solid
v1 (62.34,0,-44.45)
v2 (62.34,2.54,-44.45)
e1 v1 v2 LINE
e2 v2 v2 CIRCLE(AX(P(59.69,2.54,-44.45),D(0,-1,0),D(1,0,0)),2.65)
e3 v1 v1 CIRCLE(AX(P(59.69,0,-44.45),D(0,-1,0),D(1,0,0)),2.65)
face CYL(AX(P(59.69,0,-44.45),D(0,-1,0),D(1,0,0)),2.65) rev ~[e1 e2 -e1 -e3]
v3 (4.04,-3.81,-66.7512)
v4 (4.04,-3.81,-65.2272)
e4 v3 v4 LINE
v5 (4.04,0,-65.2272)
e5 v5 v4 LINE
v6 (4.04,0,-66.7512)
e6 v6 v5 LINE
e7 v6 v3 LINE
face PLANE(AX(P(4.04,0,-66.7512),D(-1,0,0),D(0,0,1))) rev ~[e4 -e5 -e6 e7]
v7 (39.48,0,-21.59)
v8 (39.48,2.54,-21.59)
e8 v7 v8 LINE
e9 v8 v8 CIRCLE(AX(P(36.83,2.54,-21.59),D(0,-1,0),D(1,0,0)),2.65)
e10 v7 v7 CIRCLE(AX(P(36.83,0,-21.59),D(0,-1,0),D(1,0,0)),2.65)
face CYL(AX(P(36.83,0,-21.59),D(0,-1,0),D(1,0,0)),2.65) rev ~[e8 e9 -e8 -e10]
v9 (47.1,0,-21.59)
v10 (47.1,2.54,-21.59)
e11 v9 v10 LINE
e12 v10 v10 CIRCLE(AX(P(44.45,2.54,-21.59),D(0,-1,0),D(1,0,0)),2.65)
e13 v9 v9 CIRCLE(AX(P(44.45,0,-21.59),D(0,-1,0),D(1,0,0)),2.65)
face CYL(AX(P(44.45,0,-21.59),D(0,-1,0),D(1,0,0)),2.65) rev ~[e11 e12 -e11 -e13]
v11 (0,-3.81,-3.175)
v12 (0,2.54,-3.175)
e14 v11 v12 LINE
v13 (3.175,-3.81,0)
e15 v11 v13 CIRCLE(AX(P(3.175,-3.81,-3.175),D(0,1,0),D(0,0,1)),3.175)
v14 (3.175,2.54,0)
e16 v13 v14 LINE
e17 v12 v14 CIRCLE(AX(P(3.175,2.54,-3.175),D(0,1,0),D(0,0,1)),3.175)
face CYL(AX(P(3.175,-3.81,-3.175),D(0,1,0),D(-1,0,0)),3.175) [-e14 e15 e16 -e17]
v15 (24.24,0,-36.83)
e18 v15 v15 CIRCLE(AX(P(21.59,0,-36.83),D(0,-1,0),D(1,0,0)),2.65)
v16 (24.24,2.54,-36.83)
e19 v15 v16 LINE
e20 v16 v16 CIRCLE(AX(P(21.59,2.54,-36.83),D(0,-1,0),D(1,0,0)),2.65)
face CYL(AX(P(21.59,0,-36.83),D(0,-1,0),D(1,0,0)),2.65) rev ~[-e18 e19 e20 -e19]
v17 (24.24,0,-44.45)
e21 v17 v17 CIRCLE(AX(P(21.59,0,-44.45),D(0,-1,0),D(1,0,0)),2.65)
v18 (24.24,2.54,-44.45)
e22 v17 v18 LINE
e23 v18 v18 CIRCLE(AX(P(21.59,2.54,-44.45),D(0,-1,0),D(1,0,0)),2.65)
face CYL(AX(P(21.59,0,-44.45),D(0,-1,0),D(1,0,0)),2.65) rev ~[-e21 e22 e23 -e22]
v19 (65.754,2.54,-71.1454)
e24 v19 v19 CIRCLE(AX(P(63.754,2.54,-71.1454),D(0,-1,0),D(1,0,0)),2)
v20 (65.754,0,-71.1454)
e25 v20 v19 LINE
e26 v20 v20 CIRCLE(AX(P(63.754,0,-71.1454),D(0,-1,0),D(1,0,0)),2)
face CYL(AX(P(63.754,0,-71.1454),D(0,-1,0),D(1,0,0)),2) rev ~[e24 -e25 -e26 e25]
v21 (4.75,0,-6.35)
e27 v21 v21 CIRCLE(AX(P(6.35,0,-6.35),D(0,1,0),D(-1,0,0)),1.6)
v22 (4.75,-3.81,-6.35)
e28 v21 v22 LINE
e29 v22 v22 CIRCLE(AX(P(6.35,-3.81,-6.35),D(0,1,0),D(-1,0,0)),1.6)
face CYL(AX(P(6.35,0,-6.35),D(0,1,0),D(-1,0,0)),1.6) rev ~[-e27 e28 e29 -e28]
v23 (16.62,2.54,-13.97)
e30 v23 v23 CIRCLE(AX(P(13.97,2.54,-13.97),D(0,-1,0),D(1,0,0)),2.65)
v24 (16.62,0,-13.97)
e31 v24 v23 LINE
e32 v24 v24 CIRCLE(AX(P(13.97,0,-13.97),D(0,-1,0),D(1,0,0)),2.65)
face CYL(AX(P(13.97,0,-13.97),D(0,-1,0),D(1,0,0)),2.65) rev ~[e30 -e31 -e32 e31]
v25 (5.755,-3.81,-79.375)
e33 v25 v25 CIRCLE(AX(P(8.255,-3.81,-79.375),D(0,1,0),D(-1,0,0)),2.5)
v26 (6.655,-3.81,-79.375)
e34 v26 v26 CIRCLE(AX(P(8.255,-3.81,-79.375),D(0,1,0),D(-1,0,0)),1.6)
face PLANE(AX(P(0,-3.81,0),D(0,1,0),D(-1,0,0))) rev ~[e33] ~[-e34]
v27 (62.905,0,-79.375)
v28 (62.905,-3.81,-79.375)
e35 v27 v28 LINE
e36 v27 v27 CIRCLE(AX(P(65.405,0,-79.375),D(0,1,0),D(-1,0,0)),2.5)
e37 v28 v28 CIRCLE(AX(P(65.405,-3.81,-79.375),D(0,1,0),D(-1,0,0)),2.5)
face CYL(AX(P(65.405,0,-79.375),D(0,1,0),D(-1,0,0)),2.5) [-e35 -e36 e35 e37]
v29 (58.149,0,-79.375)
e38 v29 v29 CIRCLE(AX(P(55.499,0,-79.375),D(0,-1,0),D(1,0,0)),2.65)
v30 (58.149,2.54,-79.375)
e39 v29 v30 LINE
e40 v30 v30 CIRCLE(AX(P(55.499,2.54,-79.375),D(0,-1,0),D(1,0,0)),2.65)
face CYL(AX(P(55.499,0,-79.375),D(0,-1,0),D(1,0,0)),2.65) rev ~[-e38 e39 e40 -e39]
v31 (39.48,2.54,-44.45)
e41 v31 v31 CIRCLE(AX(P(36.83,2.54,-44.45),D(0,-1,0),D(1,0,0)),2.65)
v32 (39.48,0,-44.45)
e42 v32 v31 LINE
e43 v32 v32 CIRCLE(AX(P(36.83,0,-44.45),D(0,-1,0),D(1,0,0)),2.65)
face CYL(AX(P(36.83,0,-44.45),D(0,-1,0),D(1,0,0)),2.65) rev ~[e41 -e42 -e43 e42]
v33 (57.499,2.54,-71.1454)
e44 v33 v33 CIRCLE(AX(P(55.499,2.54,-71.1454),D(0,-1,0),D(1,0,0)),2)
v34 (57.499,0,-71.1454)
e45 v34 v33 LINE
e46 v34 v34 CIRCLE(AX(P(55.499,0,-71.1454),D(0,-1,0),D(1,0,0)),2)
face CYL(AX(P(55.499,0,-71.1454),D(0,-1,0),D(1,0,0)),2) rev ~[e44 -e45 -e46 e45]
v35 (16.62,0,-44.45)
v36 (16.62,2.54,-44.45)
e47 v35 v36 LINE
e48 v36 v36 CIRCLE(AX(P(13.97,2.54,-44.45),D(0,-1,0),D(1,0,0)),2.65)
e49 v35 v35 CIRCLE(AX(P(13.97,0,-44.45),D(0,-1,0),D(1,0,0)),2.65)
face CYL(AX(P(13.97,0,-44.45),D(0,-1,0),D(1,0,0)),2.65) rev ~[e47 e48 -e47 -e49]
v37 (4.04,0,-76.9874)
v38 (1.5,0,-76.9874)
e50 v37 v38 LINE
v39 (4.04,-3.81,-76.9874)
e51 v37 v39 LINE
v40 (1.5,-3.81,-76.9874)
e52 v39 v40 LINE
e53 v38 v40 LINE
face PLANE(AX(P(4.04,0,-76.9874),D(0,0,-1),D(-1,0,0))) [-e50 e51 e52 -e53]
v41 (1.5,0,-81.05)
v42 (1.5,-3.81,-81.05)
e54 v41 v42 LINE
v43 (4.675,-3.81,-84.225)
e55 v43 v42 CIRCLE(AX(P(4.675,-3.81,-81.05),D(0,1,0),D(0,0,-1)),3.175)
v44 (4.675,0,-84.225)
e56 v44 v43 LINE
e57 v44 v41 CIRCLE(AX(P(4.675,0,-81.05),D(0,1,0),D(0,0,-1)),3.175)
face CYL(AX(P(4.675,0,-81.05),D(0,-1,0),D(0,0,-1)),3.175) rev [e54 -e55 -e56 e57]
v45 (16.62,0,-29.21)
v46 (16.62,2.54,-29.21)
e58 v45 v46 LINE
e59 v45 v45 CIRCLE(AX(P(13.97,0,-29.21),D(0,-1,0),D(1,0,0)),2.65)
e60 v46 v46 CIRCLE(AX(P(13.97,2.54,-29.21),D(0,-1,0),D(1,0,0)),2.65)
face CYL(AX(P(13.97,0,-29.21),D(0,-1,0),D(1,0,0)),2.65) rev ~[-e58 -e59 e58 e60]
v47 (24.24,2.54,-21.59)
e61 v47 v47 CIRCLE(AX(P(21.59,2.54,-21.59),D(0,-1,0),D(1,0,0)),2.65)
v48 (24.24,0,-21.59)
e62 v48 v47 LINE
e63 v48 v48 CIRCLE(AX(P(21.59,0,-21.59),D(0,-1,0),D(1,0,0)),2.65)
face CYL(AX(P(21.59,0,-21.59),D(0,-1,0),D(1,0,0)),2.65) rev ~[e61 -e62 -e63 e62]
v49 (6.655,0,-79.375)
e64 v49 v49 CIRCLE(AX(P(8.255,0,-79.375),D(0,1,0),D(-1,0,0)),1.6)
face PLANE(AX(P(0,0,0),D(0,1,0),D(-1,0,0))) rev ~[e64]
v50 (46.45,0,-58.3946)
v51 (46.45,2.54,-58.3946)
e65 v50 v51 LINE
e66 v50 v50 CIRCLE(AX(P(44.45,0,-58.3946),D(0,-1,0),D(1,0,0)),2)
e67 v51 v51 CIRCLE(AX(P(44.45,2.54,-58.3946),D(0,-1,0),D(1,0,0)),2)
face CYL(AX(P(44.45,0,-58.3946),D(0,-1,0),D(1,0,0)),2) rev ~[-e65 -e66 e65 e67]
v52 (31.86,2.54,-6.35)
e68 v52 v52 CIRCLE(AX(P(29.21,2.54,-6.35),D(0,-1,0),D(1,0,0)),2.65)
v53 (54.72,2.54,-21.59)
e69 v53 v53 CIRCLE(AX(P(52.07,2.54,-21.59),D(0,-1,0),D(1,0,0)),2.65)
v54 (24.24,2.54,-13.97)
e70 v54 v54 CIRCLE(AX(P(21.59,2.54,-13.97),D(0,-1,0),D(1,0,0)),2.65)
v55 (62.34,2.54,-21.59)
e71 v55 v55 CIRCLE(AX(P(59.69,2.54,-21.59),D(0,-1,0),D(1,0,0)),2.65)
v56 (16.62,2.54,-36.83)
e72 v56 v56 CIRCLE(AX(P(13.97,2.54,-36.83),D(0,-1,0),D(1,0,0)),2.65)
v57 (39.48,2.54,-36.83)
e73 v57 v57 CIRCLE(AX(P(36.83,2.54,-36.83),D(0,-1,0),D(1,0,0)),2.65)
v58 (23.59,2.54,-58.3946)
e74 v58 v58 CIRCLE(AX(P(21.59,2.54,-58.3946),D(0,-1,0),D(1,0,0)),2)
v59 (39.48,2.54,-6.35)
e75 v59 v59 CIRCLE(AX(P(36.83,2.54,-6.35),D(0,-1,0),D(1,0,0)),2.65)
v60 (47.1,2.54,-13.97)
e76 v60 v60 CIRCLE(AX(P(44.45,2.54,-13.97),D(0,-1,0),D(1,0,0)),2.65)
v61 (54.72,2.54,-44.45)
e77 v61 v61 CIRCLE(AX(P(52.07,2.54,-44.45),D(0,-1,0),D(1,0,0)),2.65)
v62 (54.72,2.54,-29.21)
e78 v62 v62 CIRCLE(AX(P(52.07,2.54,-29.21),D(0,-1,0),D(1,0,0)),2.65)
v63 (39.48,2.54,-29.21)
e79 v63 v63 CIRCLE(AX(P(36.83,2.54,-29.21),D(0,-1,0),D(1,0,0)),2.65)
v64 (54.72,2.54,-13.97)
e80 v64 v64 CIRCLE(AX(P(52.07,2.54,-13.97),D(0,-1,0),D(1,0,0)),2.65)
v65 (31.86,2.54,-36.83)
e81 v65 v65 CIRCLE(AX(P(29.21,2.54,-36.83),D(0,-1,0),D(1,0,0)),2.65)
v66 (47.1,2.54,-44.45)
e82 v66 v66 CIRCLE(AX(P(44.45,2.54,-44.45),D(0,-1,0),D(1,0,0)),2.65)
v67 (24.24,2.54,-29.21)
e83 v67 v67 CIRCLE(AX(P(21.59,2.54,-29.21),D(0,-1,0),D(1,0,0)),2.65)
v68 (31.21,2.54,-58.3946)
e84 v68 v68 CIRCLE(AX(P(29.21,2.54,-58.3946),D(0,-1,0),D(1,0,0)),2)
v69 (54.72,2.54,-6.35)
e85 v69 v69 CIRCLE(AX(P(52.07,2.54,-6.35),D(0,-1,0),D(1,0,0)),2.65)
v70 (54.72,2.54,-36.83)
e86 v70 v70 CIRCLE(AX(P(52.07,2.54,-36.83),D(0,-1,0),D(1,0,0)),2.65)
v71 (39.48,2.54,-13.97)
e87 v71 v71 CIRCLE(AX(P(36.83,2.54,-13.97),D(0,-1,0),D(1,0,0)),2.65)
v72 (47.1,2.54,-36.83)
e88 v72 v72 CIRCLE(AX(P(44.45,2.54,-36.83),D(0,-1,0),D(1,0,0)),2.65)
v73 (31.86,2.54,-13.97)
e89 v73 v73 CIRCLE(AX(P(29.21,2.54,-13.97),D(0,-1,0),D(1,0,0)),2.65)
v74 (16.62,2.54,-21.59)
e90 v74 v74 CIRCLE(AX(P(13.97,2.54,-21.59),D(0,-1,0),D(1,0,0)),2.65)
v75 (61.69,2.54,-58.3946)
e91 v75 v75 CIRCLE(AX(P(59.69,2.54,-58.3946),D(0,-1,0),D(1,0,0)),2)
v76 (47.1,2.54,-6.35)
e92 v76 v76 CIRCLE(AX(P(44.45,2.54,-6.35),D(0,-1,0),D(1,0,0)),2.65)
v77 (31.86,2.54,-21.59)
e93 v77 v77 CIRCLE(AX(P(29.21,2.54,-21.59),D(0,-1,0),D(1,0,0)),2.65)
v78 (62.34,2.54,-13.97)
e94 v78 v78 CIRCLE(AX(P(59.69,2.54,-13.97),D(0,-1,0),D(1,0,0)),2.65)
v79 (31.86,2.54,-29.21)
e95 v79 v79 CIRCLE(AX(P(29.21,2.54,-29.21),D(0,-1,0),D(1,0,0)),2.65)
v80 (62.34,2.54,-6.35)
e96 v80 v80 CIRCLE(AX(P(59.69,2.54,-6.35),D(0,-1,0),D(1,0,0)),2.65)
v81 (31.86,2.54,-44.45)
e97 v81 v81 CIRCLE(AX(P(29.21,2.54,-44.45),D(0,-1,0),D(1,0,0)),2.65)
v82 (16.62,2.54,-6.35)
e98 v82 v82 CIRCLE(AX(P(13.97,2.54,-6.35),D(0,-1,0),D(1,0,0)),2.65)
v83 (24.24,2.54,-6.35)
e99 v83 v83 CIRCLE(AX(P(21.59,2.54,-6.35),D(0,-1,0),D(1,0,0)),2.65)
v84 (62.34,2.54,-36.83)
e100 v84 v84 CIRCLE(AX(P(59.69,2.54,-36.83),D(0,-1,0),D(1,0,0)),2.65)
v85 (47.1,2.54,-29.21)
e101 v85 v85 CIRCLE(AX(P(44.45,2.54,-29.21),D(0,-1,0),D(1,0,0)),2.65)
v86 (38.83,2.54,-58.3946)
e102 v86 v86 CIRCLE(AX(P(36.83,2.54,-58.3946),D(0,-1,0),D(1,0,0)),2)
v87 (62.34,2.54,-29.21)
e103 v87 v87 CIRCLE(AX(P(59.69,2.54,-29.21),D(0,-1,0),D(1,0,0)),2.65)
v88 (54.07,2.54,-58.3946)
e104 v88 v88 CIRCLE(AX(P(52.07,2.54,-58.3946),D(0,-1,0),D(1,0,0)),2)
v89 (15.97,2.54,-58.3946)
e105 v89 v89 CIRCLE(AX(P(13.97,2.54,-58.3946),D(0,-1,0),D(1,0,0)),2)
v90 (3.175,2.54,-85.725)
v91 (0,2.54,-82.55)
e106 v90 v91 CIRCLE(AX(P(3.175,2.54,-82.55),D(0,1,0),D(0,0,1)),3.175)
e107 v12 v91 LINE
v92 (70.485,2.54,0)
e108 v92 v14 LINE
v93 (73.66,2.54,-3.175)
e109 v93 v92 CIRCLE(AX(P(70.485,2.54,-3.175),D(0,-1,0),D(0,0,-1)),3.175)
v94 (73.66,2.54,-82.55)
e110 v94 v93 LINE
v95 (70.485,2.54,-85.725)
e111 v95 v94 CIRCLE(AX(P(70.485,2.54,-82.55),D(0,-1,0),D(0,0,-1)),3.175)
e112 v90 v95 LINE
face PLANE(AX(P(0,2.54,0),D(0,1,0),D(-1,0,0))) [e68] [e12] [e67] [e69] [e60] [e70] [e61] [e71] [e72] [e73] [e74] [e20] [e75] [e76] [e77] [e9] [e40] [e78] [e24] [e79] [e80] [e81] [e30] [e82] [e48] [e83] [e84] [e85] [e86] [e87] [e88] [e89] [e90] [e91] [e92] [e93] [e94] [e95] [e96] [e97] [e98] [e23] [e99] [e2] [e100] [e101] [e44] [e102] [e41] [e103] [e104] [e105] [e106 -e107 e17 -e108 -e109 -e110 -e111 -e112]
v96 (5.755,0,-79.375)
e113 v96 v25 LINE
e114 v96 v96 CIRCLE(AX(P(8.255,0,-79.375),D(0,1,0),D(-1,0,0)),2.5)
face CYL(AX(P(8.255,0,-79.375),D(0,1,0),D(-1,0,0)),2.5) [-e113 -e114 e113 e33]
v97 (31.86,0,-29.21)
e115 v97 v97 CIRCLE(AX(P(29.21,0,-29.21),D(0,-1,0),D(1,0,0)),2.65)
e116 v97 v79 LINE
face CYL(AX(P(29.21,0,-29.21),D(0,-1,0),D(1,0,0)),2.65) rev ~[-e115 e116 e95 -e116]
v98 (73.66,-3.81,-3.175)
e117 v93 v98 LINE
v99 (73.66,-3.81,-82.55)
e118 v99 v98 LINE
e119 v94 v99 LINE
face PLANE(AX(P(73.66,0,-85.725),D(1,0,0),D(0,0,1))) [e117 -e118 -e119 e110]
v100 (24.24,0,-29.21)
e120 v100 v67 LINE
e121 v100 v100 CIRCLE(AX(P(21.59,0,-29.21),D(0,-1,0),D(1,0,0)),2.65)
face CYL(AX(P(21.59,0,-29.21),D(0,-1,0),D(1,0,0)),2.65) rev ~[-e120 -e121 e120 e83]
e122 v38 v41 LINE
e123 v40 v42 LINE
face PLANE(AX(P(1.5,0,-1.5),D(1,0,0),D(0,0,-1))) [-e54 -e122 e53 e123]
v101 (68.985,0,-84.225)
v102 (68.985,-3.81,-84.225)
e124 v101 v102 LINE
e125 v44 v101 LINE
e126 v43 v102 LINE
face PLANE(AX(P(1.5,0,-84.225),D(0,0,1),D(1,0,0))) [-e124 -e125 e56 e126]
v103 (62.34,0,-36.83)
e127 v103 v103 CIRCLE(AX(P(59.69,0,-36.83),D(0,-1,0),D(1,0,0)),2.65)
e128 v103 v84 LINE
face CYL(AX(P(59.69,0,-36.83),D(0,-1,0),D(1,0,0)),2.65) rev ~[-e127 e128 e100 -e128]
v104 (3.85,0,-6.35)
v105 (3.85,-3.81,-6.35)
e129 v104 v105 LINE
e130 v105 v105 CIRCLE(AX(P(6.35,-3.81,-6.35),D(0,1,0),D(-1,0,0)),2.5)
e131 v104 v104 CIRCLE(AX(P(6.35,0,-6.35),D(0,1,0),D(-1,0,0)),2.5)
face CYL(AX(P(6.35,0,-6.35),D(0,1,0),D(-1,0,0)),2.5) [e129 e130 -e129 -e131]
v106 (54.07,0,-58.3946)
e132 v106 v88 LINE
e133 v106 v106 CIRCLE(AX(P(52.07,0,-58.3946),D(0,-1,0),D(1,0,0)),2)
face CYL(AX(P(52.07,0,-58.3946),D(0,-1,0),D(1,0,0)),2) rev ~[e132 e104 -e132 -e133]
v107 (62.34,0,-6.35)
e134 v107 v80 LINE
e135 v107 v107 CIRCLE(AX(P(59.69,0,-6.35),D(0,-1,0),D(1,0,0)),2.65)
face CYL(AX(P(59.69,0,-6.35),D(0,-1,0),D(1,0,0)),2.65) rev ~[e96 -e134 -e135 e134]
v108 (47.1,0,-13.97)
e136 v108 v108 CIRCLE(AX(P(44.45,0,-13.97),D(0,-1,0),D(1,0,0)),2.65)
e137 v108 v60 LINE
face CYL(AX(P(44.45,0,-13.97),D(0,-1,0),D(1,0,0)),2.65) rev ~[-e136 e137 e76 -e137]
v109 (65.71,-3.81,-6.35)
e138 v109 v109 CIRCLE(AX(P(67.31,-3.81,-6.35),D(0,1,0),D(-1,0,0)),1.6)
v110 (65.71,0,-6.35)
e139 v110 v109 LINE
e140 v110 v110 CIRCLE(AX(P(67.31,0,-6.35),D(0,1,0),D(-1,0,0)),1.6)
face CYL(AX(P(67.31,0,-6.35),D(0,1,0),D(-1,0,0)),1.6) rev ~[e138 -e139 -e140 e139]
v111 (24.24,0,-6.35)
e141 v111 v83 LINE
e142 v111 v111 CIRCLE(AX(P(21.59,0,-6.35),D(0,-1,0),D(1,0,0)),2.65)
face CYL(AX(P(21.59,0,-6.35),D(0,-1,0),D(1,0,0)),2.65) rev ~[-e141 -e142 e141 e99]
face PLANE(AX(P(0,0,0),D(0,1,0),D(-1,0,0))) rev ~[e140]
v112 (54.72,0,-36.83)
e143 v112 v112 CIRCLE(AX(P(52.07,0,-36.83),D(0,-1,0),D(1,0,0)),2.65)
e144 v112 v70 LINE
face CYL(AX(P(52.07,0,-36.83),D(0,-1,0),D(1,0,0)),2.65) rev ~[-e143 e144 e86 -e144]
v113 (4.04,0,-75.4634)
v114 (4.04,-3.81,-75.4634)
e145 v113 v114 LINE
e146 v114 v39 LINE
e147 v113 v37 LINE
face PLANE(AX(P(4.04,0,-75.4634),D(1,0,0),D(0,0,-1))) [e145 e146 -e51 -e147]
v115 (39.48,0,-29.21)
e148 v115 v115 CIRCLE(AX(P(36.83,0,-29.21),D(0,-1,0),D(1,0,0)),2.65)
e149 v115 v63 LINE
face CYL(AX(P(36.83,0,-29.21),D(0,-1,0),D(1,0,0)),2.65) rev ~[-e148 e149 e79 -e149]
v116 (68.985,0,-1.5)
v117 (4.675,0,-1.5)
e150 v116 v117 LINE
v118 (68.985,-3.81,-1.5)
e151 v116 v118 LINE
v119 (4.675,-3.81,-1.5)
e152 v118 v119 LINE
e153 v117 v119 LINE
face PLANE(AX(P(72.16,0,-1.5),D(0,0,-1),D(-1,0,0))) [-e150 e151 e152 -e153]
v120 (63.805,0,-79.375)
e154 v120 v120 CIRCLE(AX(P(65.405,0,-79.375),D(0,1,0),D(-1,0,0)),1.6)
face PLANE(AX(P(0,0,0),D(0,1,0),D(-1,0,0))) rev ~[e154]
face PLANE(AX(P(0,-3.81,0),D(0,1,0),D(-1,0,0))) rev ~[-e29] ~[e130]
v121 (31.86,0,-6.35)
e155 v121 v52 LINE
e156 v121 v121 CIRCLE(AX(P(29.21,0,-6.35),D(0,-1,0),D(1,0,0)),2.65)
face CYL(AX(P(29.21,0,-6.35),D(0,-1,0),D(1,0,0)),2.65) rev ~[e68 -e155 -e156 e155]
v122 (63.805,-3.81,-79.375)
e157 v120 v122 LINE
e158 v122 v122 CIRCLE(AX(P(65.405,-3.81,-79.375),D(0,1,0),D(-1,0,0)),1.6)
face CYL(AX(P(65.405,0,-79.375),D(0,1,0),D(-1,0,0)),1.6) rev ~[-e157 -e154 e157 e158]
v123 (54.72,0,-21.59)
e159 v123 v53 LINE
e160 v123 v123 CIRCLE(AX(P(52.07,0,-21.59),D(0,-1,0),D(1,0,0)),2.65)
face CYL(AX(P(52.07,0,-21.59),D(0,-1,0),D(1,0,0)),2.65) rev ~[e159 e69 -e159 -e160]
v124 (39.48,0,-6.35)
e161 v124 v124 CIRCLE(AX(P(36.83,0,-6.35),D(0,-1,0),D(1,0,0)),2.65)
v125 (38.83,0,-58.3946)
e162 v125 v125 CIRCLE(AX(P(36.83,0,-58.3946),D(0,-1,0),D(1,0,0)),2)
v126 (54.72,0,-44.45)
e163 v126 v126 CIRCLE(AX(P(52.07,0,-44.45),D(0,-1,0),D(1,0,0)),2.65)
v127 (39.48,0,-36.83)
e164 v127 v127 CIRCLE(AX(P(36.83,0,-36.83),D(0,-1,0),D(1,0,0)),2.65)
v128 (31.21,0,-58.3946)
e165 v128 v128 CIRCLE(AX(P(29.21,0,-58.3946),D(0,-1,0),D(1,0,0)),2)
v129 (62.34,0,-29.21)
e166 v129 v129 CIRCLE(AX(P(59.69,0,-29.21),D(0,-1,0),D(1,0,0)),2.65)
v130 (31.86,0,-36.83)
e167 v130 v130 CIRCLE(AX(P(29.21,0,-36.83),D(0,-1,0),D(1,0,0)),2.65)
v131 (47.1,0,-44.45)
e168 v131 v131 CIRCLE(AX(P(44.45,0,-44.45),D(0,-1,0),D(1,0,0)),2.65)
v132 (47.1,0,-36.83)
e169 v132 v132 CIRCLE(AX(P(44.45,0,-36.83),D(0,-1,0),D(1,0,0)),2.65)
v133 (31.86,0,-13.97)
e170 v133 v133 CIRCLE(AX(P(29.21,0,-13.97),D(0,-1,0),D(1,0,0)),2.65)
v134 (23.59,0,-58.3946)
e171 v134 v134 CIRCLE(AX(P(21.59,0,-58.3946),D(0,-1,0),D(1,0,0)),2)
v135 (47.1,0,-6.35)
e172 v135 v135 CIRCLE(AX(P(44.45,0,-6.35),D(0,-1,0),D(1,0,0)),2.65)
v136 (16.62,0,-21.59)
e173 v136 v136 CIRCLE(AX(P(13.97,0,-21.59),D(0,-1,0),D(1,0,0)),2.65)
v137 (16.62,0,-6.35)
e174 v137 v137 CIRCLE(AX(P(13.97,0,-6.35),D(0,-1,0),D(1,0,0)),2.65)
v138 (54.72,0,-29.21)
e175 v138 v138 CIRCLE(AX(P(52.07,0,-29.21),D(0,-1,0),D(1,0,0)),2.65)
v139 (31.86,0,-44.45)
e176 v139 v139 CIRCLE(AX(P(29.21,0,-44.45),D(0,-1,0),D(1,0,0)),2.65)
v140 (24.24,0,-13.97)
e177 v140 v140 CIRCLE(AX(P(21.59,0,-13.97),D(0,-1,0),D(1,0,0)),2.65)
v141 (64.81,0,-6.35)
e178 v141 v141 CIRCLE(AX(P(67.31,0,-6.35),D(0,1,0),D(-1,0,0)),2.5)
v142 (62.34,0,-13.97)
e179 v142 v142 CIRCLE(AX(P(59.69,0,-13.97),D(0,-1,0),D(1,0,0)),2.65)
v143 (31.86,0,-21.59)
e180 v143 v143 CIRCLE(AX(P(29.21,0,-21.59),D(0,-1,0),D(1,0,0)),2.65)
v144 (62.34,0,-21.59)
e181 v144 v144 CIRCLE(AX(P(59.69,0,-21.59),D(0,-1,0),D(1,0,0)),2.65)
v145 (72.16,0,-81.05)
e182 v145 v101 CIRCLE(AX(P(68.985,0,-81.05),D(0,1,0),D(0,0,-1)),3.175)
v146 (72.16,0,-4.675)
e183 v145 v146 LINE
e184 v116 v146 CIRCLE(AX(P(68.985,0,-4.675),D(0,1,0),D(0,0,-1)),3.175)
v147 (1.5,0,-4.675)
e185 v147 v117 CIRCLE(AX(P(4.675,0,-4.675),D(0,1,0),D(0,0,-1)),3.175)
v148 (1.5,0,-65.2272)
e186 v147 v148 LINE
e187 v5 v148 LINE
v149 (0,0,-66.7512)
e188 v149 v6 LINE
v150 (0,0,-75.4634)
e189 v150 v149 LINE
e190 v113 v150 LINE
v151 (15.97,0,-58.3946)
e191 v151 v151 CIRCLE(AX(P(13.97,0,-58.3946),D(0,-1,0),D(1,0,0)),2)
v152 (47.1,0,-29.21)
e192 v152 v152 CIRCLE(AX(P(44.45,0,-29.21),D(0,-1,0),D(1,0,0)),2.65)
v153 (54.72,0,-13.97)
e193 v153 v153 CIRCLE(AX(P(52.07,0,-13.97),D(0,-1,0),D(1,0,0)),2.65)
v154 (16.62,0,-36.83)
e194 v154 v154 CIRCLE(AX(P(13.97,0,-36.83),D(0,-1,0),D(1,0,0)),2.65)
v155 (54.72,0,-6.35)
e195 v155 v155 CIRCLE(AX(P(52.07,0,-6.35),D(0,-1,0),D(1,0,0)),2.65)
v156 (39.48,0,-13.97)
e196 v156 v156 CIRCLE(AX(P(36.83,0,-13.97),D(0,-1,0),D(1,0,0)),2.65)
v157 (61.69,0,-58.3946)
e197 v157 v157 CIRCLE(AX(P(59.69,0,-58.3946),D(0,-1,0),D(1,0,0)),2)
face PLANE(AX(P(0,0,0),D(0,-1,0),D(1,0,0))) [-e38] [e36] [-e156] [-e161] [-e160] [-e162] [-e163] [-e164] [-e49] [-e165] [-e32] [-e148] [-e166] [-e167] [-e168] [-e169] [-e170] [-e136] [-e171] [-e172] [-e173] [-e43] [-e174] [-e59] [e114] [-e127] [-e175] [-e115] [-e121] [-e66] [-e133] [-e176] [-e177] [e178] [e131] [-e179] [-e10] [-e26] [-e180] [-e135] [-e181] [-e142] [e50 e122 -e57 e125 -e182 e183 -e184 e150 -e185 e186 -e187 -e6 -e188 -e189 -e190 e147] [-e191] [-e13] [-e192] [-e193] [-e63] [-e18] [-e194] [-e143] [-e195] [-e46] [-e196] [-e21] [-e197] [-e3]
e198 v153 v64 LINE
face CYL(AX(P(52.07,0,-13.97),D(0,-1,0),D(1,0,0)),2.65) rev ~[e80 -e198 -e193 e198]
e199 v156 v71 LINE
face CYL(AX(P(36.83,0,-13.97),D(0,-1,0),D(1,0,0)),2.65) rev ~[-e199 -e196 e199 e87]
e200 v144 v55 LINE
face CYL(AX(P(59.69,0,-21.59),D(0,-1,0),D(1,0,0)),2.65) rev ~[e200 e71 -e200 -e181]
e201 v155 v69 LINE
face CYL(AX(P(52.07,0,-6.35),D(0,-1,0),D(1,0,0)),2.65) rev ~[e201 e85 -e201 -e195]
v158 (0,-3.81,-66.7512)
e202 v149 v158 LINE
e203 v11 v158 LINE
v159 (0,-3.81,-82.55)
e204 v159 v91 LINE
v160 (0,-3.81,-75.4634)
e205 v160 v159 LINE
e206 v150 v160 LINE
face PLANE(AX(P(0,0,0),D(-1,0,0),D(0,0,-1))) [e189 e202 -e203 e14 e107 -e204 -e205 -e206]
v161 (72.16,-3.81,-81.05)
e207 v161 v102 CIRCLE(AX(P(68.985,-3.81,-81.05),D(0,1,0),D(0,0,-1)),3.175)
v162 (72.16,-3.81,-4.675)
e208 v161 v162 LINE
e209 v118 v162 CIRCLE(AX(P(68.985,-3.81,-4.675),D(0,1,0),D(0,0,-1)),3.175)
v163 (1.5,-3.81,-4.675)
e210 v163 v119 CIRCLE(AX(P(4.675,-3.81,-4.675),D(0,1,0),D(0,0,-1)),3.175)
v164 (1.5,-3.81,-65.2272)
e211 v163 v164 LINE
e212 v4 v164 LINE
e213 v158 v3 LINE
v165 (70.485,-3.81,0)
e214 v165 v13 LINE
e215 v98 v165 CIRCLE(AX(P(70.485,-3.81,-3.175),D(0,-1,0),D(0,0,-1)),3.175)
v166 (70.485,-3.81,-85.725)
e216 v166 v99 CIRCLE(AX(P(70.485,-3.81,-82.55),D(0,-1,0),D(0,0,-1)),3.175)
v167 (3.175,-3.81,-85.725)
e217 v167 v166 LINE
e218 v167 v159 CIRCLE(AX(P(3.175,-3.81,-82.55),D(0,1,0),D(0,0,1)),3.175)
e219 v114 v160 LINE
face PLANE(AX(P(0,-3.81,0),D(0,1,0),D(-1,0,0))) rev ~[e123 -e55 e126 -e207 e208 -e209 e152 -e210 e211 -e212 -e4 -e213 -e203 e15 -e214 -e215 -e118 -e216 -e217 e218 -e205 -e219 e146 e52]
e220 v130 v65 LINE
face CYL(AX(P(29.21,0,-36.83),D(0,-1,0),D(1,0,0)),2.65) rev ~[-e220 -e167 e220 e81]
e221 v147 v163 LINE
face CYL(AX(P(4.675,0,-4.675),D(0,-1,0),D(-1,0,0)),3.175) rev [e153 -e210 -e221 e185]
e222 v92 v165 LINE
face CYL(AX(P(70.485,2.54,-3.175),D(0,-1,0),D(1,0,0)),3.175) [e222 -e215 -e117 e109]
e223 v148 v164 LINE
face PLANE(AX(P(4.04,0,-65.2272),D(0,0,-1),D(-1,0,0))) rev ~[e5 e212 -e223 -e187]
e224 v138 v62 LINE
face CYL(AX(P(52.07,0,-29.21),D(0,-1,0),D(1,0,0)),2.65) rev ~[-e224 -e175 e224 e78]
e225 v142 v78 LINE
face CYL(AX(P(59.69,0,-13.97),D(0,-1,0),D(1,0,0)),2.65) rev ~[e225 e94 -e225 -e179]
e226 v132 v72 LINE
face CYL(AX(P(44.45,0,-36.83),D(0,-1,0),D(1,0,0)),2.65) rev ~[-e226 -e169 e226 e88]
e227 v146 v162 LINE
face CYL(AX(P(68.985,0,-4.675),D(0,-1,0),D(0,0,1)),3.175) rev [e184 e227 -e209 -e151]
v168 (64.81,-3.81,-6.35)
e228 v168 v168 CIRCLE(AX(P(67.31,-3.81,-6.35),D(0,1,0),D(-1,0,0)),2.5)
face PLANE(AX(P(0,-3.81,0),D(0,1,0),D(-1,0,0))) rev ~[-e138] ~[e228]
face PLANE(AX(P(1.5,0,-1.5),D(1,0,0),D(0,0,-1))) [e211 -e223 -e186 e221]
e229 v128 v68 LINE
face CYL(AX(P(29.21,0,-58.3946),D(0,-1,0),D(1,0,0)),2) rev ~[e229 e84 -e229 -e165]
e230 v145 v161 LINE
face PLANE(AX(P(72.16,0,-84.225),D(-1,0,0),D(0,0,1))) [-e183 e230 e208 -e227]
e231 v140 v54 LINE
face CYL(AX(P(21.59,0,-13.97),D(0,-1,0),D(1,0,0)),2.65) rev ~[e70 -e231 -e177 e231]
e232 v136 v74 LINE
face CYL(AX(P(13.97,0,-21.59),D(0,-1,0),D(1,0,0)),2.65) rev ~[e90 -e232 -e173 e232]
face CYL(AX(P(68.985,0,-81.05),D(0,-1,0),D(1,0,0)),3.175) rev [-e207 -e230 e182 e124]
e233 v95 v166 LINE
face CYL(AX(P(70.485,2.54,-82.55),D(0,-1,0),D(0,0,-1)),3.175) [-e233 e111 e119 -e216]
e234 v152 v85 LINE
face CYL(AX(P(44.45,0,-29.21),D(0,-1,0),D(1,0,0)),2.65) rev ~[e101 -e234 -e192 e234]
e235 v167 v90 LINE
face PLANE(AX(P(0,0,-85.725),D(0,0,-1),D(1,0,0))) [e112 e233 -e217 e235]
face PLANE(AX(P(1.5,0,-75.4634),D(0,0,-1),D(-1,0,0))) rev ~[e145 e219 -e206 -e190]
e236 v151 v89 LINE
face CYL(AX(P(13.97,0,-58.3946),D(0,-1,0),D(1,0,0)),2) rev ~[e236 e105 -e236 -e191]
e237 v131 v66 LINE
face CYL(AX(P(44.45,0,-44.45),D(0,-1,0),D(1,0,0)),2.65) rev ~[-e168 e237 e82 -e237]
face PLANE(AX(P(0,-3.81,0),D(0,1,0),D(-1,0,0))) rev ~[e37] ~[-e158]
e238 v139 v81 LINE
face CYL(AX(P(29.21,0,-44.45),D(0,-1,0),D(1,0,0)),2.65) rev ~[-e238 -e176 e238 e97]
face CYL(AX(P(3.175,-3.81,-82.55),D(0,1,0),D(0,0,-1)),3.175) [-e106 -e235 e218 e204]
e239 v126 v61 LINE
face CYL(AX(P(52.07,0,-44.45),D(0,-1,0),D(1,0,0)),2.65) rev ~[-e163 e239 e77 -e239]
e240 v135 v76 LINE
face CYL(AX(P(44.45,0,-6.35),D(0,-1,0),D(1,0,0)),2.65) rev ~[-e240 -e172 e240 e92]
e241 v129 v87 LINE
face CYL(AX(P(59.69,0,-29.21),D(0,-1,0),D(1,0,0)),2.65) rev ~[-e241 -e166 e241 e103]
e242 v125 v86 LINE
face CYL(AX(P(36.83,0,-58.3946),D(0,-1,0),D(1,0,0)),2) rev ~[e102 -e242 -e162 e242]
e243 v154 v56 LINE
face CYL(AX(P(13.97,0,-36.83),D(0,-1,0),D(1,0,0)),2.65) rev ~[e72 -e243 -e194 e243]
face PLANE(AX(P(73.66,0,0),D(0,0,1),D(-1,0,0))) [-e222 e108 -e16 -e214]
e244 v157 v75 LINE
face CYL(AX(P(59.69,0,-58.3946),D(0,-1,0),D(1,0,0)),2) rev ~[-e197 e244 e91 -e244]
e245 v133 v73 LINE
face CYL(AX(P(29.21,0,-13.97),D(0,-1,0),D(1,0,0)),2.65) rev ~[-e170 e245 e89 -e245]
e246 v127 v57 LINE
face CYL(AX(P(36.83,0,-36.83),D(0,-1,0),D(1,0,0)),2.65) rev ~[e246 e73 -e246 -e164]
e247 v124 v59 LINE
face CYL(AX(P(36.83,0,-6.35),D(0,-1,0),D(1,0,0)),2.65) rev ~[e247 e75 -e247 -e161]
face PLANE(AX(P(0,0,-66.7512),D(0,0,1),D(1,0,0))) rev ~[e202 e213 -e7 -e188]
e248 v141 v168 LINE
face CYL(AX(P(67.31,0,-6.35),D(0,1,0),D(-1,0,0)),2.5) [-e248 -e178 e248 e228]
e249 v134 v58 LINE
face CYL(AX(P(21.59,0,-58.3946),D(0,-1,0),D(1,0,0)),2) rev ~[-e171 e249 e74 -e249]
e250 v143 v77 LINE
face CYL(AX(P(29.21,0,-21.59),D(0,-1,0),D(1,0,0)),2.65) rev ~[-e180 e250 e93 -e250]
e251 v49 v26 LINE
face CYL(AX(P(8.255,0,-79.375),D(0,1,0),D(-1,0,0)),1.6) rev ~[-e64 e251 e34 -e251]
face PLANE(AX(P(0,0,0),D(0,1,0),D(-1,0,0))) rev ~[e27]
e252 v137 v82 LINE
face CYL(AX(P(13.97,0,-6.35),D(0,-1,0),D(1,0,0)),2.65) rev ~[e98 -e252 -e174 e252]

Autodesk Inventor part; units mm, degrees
ref_plane "YZ Plane" through (0, 0, 0) normal (1, 0, 0) x (0, 1, 0)
ref_plane "XZ Plane" through (0, 0, 0) normal (0, 1, 0) x (-1, 0, 0)
ref_plane "XY Plane" through (0, 0, 0) normal (0, 0, 1) x (1, 0, 0)
sketch "Sketch1" plane through (0, 0, 0) normal (0, 1, 0) x (-1, 0, 0)
  line L0 (-2.54, -83.185) -> (-71.12, -83.185) construction
  line L1 (-71.12, -83.185) -> (-71.12, -2.54) construction
  line L2 (-71.12, -2.54) -> (-2.54, -2.54) construction
  line L3 (-2.54, -2.54) -> (-2.54, -83.185) construction
  line L4 (0, -85.725) -> (-73.66, -85.725)
  line L5 (-73.66, -85.725) -> (-73.66, 0)
  line L6 (-73.66, 0) -> (0, 0)
  line L7 (0, 0) -> (0, -85.725)
  line L8 (-2.54, -83.185) -> (0, -85.725) construction
  line L9 (-71.12, -83.185) -> (-73.66, -85.725) construction
  line L10 (-73.66, 0) -> (-71.12, -2.54) construction
  line L11 (-2.54, -2.54) -> (0, 0) construction
  line L12 (-1.5, -84.225) -> (-72.16, -84.225)
  line L13 (-72.16, -84.225) -> (-72.16, -1.5)
  line L14 (-72.16, -1.5) -> (-1.5, -1.5)
  line L15 (-1.5, -1.5) -> (-1.5, -84.225)
  circle A0 centre (-8.255, -79.375) radius 1.6
  circle A1 centre (-65.405, -79.375) radius 1.6
  circle A2 centre (-6.35, -6.35) radius 1.6
  circle A3 centre (-67.31, -6.35) radius 1.6
  line L16 (-8.255, -79.375) -> (-65.405, -79.375) construction
  line L17 (-67.31, -6.35) -> (-6.35, -6.35) construction
  line L18 (-6.35, -6.35) -> (-8.255, -79.375) construction
  line L19 (-65.405, -79.375) -> (-67.31, -6.35) construction
  circle A4 centre (-8.255, -79.375) radius 2.5
  circle A5 centre (-65.405, -79.375) radius 2.5
  circle A6 centre (-67.31, -6.35) radius 2.5
  circle A7 centre (-6.35, -6.35) radius 2.5
  point P0 (0, 0)
  dimension "d0" = 68.58
  dimension "d1" = 80.645
  dimension "d2" = 2.54
  dimension "d3" = 2.54
  dimension "d4" = 1.5
  dimension "d5" = 57.15
  dimension "d6" = 60.96
  dimension "d7" = 73.025
  dimension "d9" = 3.81
  dimension "d10" = 3.81
  dimension "d11" = 3.81
  dimension "d12" = 3.2
  dimension "d13" = 5
extrude "Extrusion1" add sketch "Sketch1" along normal blind 2.54 contours L4 L5 L6 L7 | L12 L13 L14 L15 | A0 | A1 | A2 | A3 | A4 | A5 | A6 | A7
extrude "Extrusion2" add sketch "Sketch1" against normal blind 3.81
sketch "Sketch2" plane through (0, 0, 0) normal (0, -1, 0) x (1, 0, 0)
  circle A0 centre (67.31, -6.35) radius 2.5 projected
  circle A1 centre (8.255, -79.375) radius 2.5 projected
  line L0 (1.5, -1.5) -> (1.5, -84.225) projected
  line L1 (1.5, -84.225) -> (72.16, -84.225) projected
  line L2 (72.16, -84.225) -> (72.16, -1.5) projected
  line L3 (72.16, -1.5) -> (1.5, -1.5) projected
  circle A2 centre (65.405, -79.375) radius 2.5 projected
  circle A3 centre (6.35, -6.35) radius 2.5 projected
  circle A4 centre (59.69, -6.35) radius 2.65
  circle A5 centre (59.69, -13.97) radius 2.65
  circle A6 centre (59.69, -21.59) radius 2.65
  circle A7 centre (59.69, -29.21) radius 2.65
  circle A8 centre (59.69, -36.83) radius 2.65
  circle A9 centre (59.69, -44.45) radius 2.65
  circle A10 centre (52.07, -6.35) radius 2.65
  circle A11 centre (52.07, -13.97) radius 2.65
  circle A12 centre (52.07, -21.59) radius 2.65
  circle A13 centre (52.07, -29.21) radius 2.65
  circle A14 centre (52.07, -36.83) radius 2.65
  circle A15 centre (52.07, -44.45) radius 2.65
  circle A16 centre (44.45, -6.35) radius 2.65
  circle A17 centre (44.45, -13.97) radius 2.65
  circle A18 centre (44.45, -21.59) radius 2.65
  circle A19 centre (44.45, -29.21) radius 2.65
  circle A20 centre (44.45, -36.83) radius 2.65
  circle A21 centre (44.45, -44.45) radius 2.65
  circle A22 centre (36.83, -6.35) radius 2.65
  circle A23 centre (36.83, -13.97) radius 2.65
  circle A24 centre (36.83, -21.59) radius 2.65
  circle A25 centre (36.83, -29.21) radius 2.65
  circle A26 centre (36.83, -36.83) radius 2.65
  circle A27 centre (36.83, -44.45) radius 2.65
  circle A28 centre (29.21, -6.35) radius 2.65
  circle A29 centre (29.21, -13.97) radius 2.65
  circle A30 centre (29.21, -21.59) radius 2.65
  circle A31 centre (29.21, -29.21) radius 2.65
  circle A32 centre (29.21, -36.83) radius 2.65
  circle A33 centre (29.21, -44.45) radius 2.65
  circle A34 centre (21.59, -6.35) radius 2.65
  circle A35 centre (21.59, -13.97) radius 2.65
  circle A36 centre (21.59, -21.59) radius 2.65
  circle A37 centre (21.59, -29.21) radius 2.65
  circle A38 centre (21.59, -36.83) radius 2.65
  circle A39 centre (21.59, -44.45) radius 2.65
  circle A40 centre (13.97, -6.35) radius 2.65
  circle A41 centre (13.97, -13.97) radius 2.65
  circle A42 centre (13.97, -21.59) radius 2.65
  circle A43 centre (13.97, -29.21) radius 2.65
  circle A44 centre (13.97, -36.83) radius 2.65
  circle A45 centre (13.97, -44.45) radius 2.65
  circle A46 centre (59.69, -58.3946) radius 2
  circle A47 centre (52.07, -58.3946) radius 2
  circle A48 centre (44.45, -58.3946) radius 2
  circle A49 centre (36.83, -58.3946) radius 2
  circle A50 centre (29.21, -58.3946) radius 2
  circle A51 centre (21.59, -58.3946) radius 2
  circle A52 centre (13.97, -58.3946) radius 2
  line L4 (67.31, -6.35) -> (59.69, -6.35) construction
  line L5 (65.405, -79.375) -> (59.69, -58.3946) construction
  line L6 (13.97, -58.3946) -> (8.255, -79.375) construction
  circle A53 centre (55.499, -79.375) radius 2.65
  line L7 (55.499, -79.375) -> (65.405, -79.375) construction
  circle A54 centre (55.499, -71.1454) radius 2
  circle A55 centre (63.754, -71.1454) radius 2
  line L8 (55.499, -71.1454) -> (63.754, -71.1454) construction
  line L9 (55.499, -71.1454) -> (55.499, -79.375) construction
  point P0 (0, 0)
  dimension "d20" = 7.62
  dimension "d23" = 7.62
  dimension "d26" = 5.3
  dimension "d29" = 7.62
  dimension "d34" = 7.62
  dimension "d35" = 7.62
  dimension "d36" = 60.96
  dimension "d37" = 20.9804
  dimension "d38" = 4
  dimension "d40" = 9.906
  dimension "d41" = 8.255
  dimension "d42" = 8.2296
extrude "Extrusion3" cut sketch "Sketch2" against normal through all contours A4 | A5 | A6 | A7 | A8 | A9 | A10 | A11 | A12 | A13 | A14 | A15 | A16 | A17 | A18 | A19 | A20 | A21 | A22 | A23 | A24 | A25 | A26 | A27 | A28 | A29 | A30 | A31 | A32 | A33 | A34 | A35 | A36 | A37 | A38 | A39 | A40 | A41 | A42 | A43 | A44 | A45 | A46 | A47 | A48 | A49 | A50 | A51 | A52 | A53 | A54 | A55
sketch "Sketch3" plane through (0, 0, 0) normal (0, -1, 0) x (1, 0, 0)
  line L0 (1.5, -1.5) -> (1.5, -84.225) projected
  line L1 (1.5, -75.4634) -> (0, -75.4634)
  line L2 (0, -75.4634) -> (0, -66.7512)
  line L3 (0, -66.7512) -> (1.5, -66.7512)
  line L4 (1.5, -66.7512) -> (1.5, -75.4634)
  line L5 (0, -85.725) -> (73.66, -85.725) projected
  line L6 (2.54, -83.185) -> (71.12, -83.185) construction
  line L7 (2.54, -2.54) -> (2.54, -83.185) construction
  line L8 (1.5, -75.4634) -> (4.04, -75.4634)
  line L9 (4.04, -75.4634) -> (4.04, -76.9874)
  line L10 (4.04, -76.9874) -> (1.5, -76.9874)
  line L11 (1.5, -76.9874) -> (1.5, -75.4634)
  line L12 (1.5, -66.7512) -> (4.04, -66.7512)
  line L13 (4.04, -66.7512) -> (4.04, -65.2272)
  line L14 (4.04, -65.2272) -> (1.5, -65.2272)
  line L15 (1.5, -65.2272) -> (1.5, -66.7512)
  line L16 (4.04, -66.7512) -> (4.04, -75.4634) construction
  point P0 (0, 0)
  dimension "d46" = 8.7122
  dimension "d49" = 7.7216
  dimension "d50" = 1.524
  dimension "d53" = 2.54
extrude "Extrusion4" cut sketch "Sketch3" along normal through all contours L0 L1 L2 L3
extrude "Extrusion5" add sketch "Sketch3" along normal up to surface (3.81 mm away) contours L14 L13 L12 L0 | L8 L9 L10 L0
fillet "Fillet1" radius 3.175 8 edges at (1.5, -1.905, -84.225) (0, -0.635, -85.725) (73.66, -0.635, -85.725) (72.16, -1.905, -84.225) (72.16, -1.905, -1.5) (73.66, -0.635, 0) (1.5, -1.905, -1.5) (0, -0.635, 0)
properties part number "Top Part"
